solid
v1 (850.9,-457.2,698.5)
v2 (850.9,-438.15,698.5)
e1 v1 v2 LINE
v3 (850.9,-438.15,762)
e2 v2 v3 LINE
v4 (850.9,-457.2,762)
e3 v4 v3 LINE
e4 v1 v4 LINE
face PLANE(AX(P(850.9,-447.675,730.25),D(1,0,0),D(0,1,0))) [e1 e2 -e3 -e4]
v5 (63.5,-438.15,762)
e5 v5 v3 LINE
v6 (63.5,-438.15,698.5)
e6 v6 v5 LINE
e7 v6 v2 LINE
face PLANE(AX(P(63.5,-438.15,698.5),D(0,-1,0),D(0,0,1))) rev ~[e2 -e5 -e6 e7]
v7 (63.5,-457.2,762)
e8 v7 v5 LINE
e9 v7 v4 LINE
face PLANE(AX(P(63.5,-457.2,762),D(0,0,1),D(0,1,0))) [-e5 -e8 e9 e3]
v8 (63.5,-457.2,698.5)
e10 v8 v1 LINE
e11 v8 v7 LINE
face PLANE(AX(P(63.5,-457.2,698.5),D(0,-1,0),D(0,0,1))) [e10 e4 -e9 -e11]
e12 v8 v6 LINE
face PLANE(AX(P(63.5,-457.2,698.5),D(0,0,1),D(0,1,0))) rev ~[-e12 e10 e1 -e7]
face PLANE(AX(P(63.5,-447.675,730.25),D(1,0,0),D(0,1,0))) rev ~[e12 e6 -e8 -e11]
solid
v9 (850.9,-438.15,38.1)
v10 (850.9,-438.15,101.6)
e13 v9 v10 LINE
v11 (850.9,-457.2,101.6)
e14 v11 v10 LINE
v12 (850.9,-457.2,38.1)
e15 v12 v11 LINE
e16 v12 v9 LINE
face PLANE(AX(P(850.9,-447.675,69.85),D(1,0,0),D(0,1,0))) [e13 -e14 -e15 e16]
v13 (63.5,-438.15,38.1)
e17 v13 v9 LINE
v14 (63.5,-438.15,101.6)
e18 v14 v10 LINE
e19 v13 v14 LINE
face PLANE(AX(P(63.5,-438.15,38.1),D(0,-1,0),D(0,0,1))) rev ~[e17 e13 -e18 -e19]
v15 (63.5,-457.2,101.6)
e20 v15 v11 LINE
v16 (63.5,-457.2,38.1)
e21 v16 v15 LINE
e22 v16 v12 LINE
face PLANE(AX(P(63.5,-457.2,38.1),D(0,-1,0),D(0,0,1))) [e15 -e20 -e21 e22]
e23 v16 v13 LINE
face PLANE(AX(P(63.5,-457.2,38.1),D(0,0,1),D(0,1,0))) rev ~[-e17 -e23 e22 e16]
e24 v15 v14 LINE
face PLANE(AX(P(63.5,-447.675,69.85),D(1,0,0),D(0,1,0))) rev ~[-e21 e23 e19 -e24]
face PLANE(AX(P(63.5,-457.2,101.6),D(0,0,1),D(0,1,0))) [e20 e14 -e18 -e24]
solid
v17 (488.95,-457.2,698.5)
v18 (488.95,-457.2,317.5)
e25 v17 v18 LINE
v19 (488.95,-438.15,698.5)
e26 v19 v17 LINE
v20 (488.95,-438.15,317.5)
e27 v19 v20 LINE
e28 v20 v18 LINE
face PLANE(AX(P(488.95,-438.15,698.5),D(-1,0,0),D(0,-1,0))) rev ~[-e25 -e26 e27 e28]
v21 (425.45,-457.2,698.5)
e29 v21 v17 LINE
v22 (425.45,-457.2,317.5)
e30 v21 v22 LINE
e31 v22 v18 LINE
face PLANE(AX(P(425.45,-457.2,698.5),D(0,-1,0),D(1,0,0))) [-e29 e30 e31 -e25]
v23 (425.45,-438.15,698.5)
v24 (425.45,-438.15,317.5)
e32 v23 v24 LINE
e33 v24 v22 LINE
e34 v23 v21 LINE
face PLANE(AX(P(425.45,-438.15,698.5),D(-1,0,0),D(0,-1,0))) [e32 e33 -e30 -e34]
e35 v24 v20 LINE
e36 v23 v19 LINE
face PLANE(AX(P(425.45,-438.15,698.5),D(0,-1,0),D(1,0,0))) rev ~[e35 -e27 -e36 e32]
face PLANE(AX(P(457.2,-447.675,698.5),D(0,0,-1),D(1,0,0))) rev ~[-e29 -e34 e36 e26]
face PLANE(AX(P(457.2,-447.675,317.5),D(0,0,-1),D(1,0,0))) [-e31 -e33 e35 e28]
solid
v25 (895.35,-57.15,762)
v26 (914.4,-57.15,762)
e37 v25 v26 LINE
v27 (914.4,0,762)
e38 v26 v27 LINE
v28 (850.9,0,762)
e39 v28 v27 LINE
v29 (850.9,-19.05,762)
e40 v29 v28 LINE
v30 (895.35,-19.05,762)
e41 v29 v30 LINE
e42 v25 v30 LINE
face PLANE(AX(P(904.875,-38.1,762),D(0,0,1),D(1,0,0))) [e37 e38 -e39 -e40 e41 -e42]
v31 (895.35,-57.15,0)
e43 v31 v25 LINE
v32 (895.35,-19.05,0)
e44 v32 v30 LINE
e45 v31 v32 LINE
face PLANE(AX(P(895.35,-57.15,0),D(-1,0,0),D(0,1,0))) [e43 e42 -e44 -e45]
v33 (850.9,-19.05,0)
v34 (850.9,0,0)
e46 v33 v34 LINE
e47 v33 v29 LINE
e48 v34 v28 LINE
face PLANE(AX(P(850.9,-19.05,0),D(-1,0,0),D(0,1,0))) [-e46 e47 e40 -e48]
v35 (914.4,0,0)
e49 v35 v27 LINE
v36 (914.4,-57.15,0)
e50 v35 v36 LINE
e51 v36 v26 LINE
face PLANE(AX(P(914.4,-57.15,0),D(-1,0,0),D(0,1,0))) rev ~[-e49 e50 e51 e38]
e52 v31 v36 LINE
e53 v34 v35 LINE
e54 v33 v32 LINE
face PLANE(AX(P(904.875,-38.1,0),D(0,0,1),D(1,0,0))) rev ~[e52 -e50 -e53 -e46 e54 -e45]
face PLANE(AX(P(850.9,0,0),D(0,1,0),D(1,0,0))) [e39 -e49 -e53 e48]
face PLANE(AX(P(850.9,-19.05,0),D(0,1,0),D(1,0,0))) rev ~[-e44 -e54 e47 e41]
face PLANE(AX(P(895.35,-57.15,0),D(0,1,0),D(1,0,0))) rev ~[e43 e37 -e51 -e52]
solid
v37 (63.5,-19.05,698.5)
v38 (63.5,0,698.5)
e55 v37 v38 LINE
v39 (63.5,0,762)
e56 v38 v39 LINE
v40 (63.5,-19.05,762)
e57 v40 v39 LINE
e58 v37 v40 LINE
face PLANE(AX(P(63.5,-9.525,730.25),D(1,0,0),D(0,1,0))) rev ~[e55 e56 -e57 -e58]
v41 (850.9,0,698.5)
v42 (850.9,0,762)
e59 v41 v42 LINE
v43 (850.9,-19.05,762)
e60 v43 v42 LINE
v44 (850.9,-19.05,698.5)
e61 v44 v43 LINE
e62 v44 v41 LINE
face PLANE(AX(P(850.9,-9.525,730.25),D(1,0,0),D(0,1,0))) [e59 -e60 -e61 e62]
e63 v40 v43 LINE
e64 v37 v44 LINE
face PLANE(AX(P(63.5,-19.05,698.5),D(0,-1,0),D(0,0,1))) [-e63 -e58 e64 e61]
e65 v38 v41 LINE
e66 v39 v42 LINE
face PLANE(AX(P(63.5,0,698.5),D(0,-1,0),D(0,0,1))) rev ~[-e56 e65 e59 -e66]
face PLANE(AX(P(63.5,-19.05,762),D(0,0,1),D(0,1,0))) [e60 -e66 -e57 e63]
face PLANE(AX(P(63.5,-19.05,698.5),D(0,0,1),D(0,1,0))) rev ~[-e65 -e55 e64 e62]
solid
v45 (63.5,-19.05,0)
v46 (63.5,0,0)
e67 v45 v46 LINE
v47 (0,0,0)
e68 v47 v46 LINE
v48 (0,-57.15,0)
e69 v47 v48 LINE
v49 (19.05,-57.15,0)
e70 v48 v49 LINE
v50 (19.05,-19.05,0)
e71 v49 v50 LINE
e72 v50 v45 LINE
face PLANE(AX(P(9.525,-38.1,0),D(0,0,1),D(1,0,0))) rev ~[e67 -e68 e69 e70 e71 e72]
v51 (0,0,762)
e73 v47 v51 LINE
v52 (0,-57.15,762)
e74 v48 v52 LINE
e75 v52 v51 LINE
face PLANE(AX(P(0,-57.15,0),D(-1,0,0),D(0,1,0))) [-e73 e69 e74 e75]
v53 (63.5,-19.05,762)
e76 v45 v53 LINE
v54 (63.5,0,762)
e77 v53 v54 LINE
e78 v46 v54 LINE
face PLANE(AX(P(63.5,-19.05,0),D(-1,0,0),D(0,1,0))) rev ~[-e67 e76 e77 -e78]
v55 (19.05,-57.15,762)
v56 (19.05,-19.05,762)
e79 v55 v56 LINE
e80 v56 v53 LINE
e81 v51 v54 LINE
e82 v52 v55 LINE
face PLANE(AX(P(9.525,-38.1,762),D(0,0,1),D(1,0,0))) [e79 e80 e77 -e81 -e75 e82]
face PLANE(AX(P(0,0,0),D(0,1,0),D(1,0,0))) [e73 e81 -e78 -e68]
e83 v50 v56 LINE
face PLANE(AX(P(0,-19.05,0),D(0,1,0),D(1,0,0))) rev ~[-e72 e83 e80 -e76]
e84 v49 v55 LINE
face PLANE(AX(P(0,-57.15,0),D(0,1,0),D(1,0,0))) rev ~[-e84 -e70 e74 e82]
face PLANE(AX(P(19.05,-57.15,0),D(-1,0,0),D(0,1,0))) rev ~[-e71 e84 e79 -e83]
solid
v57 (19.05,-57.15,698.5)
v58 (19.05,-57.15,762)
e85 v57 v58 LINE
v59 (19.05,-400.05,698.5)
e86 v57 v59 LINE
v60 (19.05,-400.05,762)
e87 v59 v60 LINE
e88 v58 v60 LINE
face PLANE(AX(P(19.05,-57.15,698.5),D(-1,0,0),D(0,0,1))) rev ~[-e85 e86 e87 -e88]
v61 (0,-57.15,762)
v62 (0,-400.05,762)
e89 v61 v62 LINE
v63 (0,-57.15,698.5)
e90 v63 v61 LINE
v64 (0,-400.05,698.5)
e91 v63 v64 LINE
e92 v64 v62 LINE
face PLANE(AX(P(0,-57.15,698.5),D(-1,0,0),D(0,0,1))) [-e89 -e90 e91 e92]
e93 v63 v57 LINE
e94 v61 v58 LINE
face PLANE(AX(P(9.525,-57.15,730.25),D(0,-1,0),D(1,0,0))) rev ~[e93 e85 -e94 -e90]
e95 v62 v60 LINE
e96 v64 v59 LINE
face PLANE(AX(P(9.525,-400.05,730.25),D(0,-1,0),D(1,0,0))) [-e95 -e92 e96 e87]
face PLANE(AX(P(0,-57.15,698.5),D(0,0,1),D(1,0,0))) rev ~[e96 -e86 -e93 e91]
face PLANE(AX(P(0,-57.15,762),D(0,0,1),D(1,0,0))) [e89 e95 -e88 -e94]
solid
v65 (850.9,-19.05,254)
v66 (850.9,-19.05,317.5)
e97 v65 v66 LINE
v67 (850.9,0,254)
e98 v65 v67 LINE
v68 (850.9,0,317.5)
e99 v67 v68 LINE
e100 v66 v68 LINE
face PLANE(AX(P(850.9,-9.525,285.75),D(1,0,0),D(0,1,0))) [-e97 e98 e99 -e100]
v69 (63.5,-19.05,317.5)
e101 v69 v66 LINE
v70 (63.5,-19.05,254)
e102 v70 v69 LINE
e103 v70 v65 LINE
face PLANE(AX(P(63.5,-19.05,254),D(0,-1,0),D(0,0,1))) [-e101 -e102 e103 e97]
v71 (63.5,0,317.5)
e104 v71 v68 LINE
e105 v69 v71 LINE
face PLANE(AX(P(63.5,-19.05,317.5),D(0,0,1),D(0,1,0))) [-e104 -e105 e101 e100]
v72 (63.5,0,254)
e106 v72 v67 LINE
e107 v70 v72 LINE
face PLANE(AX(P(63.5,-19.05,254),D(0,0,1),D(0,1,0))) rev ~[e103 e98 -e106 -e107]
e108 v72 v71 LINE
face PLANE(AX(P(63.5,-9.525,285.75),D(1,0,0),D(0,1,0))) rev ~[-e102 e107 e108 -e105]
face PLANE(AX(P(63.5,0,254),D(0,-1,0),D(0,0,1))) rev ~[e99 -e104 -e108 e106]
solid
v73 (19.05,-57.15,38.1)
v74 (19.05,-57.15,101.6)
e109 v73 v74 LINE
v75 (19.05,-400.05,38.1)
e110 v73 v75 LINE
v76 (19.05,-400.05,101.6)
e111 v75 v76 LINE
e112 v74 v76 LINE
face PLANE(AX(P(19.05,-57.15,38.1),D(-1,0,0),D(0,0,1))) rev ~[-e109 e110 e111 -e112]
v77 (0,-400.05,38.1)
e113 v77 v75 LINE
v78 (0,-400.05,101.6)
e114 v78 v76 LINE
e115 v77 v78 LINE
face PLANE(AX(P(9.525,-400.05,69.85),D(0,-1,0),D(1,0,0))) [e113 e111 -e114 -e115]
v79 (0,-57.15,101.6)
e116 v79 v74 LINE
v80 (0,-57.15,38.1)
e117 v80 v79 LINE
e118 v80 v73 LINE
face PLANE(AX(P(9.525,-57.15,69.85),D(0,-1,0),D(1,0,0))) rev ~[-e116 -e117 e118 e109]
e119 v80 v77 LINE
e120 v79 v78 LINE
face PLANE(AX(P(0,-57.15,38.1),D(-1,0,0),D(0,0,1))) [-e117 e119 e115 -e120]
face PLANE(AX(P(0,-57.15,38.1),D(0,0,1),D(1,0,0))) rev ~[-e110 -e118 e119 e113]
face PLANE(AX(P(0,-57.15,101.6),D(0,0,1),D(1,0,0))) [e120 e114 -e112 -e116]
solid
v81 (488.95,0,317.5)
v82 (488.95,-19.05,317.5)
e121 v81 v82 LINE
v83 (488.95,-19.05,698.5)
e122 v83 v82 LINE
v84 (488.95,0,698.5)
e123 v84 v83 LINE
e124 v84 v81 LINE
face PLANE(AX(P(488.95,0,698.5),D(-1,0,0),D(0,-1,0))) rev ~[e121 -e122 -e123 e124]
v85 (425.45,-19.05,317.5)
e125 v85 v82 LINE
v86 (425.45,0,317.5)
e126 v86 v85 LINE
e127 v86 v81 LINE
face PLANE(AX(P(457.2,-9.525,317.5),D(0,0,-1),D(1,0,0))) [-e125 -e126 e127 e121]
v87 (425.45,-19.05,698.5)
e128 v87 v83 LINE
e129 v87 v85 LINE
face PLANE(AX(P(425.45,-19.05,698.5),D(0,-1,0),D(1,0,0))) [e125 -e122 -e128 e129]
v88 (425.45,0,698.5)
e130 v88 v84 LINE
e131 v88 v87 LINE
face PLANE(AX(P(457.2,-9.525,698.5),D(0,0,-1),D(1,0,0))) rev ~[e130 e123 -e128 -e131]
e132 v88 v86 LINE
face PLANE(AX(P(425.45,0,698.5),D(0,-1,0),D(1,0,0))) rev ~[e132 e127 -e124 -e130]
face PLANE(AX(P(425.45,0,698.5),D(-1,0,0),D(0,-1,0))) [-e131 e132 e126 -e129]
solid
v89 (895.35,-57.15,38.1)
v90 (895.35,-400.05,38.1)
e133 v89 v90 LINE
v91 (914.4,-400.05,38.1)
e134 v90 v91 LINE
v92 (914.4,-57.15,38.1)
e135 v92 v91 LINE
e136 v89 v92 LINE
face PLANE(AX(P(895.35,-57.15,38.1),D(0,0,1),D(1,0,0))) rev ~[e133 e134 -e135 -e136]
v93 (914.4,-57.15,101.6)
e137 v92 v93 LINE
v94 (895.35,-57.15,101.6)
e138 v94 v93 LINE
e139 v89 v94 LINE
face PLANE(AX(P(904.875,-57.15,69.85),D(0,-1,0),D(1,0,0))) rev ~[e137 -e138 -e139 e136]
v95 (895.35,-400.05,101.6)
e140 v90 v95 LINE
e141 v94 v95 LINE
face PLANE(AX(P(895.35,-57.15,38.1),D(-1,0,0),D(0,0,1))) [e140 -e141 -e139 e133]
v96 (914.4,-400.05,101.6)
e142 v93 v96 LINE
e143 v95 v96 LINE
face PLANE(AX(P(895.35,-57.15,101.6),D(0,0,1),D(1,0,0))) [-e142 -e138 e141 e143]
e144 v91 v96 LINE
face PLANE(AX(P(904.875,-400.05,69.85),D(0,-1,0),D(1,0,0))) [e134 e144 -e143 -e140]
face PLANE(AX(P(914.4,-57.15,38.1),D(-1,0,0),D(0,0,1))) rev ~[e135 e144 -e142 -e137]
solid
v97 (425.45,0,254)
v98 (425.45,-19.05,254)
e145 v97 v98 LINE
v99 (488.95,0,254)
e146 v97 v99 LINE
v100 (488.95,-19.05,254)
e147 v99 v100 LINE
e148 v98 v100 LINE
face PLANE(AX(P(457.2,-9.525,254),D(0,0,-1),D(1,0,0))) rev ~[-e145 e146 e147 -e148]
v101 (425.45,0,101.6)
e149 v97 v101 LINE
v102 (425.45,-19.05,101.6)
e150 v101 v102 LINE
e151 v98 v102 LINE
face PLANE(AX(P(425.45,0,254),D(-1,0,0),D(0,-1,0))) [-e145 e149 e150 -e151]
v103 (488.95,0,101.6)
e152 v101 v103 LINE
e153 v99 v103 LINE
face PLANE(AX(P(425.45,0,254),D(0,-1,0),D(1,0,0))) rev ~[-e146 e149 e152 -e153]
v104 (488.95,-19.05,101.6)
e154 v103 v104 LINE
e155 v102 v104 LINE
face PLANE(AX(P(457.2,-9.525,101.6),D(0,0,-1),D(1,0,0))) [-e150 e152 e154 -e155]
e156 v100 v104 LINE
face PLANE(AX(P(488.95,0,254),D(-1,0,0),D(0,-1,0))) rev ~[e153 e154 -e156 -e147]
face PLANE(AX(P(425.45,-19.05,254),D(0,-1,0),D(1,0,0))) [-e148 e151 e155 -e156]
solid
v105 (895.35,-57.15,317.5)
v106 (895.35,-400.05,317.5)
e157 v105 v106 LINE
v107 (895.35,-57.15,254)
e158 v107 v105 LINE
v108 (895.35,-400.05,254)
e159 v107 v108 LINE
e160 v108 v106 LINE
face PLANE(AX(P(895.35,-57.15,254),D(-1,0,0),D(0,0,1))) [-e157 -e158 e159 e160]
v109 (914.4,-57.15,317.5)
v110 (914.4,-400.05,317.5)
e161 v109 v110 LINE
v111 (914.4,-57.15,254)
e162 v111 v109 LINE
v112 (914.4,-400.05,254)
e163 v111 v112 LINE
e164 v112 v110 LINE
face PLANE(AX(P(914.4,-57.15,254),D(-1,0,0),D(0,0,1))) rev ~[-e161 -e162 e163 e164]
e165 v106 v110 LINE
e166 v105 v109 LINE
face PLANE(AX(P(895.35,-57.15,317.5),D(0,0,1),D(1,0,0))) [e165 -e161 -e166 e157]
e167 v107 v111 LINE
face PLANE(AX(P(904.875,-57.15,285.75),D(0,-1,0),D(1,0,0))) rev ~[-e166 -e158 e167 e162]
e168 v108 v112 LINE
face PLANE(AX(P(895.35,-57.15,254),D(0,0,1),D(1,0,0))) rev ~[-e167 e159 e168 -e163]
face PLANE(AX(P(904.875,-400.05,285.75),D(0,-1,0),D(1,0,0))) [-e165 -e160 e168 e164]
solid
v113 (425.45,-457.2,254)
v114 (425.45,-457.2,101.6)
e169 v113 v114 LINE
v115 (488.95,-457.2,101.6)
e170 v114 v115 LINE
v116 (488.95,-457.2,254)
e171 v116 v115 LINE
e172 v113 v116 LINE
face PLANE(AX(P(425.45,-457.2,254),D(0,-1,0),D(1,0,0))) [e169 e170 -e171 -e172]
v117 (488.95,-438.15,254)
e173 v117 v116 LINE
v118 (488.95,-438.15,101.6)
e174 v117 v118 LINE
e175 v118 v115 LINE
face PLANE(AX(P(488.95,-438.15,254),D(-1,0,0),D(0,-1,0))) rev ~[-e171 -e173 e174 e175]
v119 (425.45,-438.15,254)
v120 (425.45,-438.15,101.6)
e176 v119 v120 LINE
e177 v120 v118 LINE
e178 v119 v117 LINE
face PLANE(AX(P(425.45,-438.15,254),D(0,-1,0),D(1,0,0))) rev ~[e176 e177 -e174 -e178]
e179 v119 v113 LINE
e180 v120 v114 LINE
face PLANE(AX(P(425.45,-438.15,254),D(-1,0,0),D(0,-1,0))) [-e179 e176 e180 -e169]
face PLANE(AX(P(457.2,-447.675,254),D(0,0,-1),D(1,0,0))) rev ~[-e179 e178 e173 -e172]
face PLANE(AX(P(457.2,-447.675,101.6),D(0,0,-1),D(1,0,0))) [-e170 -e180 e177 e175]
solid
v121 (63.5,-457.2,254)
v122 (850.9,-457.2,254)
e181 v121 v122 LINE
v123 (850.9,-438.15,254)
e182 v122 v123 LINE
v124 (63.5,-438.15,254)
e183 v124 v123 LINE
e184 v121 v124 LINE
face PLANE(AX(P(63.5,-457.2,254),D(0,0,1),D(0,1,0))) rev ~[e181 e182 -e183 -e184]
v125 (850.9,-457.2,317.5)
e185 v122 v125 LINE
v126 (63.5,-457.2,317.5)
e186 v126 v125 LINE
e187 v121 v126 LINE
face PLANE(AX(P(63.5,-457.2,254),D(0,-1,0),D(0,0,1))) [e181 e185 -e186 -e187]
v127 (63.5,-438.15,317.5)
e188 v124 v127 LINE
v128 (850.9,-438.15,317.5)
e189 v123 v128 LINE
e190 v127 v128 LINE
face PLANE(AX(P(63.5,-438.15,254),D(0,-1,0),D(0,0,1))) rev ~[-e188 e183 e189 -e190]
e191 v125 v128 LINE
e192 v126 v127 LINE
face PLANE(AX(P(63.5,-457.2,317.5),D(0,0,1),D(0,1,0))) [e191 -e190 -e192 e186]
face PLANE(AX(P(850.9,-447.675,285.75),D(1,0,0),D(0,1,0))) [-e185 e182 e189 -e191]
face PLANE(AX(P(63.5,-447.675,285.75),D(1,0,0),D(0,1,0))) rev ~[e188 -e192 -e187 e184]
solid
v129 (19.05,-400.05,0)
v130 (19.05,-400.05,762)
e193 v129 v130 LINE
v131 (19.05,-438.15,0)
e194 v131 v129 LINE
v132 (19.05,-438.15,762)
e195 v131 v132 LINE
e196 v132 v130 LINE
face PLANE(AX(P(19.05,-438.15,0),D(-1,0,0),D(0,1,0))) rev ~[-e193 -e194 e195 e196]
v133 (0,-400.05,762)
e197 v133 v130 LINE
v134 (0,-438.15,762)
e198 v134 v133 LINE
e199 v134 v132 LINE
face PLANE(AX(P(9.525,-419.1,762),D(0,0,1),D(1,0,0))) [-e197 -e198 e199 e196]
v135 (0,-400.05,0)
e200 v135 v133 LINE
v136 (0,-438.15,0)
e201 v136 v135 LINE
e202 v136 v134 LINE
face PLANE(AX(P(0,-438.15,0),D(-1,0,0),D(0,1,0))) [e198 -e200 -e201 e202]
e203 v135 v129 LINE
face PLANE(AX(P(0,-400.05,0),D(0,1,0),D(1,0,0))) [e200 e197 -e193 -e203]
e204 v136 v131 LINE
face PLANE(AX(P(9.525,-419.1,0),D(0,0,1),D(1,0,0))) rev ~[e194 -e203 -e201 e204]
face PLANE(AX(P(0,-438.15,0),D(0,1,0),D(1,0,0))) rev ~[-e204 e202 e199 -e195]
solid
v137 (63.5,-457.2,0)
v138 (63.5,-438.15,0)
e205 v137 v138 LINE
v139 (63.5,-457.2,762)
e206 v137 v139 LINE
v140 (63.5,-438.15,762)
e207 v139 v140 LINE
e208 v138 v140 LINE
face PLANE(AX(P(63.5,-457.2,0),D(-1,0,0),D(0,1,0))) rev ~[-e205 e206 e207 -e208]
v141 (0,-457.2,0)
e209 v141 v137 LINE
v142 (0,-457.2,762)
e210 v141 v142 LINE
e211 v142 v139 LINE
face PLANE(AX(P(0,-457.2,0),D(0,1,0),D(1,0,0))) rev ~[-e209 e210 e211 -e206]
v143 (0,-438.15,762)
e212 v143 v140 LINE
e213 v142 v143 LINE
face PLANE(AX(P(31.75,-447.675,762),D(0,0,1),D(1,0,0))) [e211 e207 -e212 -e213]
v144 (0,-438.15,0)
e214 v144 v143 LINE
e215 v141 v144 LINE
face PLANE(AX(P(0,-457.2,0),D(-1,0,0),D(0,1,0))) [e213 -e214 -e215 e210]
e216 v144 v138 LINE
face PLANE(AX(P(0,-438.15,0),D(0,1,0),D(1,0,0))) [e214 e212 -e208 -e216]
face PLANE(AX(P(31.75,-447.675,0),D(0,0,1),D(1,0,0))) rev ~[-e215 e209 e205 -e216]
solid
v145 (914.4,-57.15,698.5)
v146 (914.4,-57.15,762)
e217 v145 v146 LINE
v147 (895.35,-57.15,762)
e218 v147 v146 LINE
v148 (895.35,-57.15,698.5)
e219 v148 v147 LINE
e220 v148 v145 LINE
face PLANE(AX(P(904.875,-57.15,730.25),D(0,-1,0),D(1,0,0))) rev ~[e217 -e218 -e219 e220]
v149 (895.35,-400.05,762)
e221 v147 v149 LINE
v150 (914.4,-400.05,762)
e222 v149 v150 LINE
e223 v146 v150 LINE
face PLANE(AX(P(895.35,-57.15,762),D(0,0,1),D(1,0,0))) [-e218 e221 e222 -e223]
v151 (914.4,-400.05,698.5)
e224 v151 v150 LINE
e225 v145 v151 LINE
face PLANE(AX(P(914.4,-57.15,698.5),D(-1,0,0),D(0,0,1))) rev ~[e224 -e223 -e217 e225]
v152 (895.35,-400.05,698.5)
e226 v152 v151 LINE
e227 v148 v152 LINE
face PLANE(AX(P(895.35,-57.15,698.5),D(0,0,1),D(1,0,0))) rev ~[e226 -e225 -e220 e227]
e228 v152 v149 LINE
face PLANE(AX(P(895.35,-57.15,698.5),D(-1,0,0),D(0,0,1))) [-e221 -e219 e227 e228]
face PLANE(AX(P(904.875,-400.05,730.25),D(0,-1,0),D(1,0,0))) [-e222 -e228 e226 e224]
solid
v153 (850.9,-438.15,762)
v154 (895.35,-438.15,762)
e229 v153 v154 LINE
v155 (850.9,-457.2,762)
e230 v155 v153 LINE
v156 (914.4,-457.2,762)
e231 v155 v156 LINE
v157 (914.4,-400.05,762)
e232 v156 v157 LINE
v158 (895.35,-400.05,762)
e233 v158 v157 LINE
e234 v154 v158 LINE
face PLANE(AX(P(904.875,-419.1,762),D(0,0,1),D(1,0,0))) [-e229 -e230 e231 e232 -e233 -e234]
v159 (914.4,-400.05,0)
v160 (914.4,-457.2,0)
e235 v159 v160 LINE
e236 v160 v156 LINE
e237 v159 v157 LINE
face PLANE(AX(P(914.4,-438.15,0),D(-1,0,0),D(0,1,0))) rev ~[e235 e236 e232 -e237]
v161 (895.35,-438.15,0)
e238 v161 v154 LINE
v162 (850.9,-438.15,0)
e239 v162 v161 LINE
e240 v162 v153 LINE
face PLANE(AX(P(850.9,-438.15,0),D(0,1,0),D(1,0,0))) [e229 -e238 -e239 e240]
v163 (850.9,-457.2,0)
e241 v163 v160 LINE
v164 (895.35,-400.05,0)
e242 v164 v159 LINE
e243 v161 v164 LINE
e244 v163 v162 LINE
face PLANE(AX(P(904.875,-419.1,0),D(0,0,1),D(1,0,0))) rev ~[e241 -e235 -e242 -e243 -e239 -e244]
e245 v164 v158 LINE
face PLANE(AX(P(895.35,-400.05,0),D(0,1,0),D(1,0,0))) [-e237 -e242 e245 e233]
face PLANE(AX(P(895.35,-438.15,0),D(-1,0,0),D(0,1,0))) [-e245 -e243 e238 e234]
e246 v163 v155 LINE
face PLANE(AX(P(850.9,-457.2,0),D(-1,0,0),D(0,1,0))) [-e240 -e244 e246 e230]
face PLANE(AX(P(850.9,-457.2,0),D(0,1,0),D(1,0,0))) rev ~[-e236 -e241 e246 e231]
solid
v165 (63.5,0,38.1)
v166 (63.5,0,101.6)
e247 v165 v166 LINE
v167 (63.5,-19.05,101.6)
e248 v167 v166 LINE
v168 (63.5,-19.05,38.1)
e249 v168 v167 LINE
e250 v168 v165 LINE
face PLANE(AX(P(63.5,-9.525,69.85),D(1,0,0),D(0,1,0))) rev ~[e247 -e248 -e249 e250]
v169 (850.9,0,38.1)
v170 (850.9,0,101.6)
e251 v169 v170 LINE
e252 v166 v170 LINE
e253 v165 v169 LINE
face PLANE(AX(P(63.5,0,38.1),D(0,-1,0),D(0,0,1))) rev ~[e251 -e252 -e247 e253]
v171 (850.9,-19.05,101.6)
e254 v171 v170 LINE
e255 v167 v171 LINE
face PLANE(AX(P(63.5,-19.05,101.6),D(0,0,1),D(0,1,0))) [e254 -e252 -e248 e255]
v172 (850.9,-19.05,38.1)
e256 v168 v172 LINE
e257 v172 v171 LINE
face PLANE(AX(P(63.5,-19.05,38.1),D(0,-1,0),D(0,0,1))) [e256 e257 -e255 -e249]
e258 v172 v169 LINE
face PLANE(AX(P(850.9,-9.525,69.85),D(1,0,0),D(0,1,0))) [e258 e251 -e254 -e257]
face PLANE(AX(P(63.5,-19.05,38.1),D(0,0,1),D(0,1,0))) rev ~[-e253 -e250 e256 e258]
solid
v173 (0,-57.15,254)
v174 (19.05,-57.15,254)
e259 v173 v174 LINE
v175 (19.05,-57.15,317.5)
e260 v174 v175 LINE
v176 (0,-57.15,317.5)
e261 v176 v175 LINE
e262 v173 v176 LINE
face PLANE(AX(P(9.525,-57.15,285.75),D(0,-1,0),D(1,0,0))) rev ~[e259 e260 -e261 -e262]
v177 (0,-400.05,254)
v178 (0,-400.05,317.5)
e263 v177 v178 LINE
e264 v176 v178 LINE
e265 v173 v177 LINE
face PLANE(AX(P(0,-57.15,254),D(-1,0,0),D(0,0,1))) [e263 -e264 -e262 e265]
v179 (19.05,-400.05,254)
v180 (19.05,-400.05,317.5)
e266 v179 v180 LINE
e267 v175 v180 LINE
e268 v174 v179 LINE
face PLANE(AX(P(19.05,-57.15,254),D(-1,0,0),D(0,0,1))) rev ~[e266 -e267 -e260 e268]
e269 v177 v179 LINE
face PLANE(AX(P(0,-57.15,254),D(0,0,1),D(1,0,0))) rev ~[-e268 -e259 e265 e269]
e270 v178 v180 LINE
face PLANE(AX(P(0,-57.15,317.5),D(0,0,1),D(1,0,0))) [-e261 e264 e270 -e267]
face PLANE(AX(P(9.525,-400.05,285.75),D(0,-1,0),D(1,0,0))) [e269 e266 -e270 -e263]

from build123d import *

# Parameters (mm, degrees)
F0_W      = 63.5
F0_H      = 19.05
F1_DEPTH  = 762
F2_W      = 19.05
F2_H      = 38.1
F3_DEPTH  = 762
F4_W      = 63.5
F4_H      = 19.05
F10_DEPTH = 762
F5_W      = 19.05
F5_H      = 38.1
F11_DEPTH = 762
F6_W      = 63.5
F6_H      = 19.05
F12_DEPTH = 762
F7_W      = 19.05
F7_H      = 38.1
F13_DEPTH = 762
F8_W      = 63.5
F8_H      = 19.05
F14_DEPTH = 762
F9_W      = 19.05
F9_H      = 38.1
F15_DEPTH = 762
F16_W     = 19.05
F16_H     = 63.5
F17_DEPTH = 787.4
F18_W     = 19.05
F18_H     = 63.5
F19_DEPTH = 787.4
F20_W     = 19.05
F20_H     = 63.5
F21_DEPTH = 342.9
F22_W     = 19.05
F22_H     = 63.5
F23_DEPTH = 342.9
F24_W     = 63.5
F24_H     = 19.05
F25_DEPTH = 381
F26_W     = 63.5
F26_H     = 19.05
F27_DEPTH = 381
F28_W     = 63.5
F28_H     = 19.05
F29_DEPTH = 152.4
F30_W     = 63.5
F30_H     = 19.05
F31_DEPTH = 152.4


with BuildPart() as f1:
    # F0 (on Top) → F1 (new body)
    with BuildSketch(Plane.XY):
        with Locations((31.75, -9.525)):
            Rectangle(F0_W, F0_H)
    extrude(amount=F1_DEPTH)

    # F2 (on Top) → F3 (join)
    with BuildSketch(Plane.XY):
        with Locations((9.525, -38.1)):
            Rectangle(F2_W, F2_H)
    extrude(amount=F3_DEPTH)


with BuildPart() as f10:
    # F4 (on Top) → F10 (new body)
    with BuildSketch(Plane.XY):
        with Locations((31.75, -447.675)):
            Rectangle(F4_W, F4_H)
    extrude(amount=F10_DEPTH)


with BuildPart() as f11:
    # F5 (on Top) → F11 (new body)
    with BuildSketch(Plane.XY):
        with Locations((9.525, -419.1)):
            Rectangle(F5_W, F5_H)
    extrude(amount=F11_DEPTH)


with BuildPart() as f12:
    # F6 (on Top) → F12 (new body)
    with BuildSketch(Plane.XY):
        with Locations((882.65, -9.525)):
            Rectangle(F6_W, F6_H)
    extrude(amount=F12_DEPTH)

    # F7 (on Top) → F13 (join)
    with BuildSketch(Plane.XY):
        with Locations((904.875, -38.1)):
            Rectangle(F7_W, F7_H)
    extrude(amount=F13_DEPTH)


with BuildPart() as f14:
    # F8 (on Top) → F14 (new body)
    with BuildSketch(Plane.XY):
        with Locations((882.65, -447.675)):
            Rectangle(F8_W, F8_H)
    extrude(amount=F14_DEPTH)

    # F9 (on Top) → F15 (join)
    with BuildSketch(Plane.XY):
        with Locations((904.875, -419.1)):
            Rectangle(F9_W, F9_H)
    extrude(amount=F15_DEPTH)


with BuildPart() as f17:
    # F16 (on face) → F17 (new body)
    with BuildSketch(Plane.YZ.offset(63.5)):
        with Locations((-447.675, 730.25)):
            Rectangle(F16_W, F16_H)
        with Locations((-447.675, 285.75)):
            Rectangle(F16_W, F16_H)
        with Locations((-447.675, 69.85)):
            Rectangle(F16_W, F16_H)
    extrude(amount=F17_DEPTH)


with BuildPart() as f19:
    # F18 (on face) → F19 (new body)
    with BuildSketch(Plane.YZ.offset(63.5)):
        with Locations((-9.525, 730.25)):
            Rectangle(F18_W, F18_H)
        with Locations((-9.525, 285.75)):
            Rectangle(F18_W, F18_H)
        with Locations((-9.525, 69.85)):
            Rectangle(F18_W, F18_H)
    extrude(amount=F19_DEPTH)


with BuildPart() as f21:
    # F20 (on face) → F21 (new body)
    with BuildSketch(Plane.XZ.offset(57.15)):
        with Locations((904.875, 730.25)):
            Rectangle(F20_W, F20_H)
        with Locations((904.875, 285.75)):
            Rectangle(F20_W, F20_H)
        with Locations((904.875, 69.85)):
            Rectangle(F20_W, F20_H)
    extrude(amount=F21_DEPTH)


with BuildPart() as f23:
    # F22 (on face) → F23 (new body)
    with BuildSketch(Plane.XZ.offset(57.15)):
        with Locations((9.525, 730.25)):
            Rectangle(F22_W, F22_H)
        with Locations((9.525, 285.75)):
            Rectangle(F22_W, F22_H)
        with Locations((9.525, 69.85)):
            Rectangle(F22_W, F22_H)
    extrude(amount=F23_DEPTH)


with BuildPart() as f25:
    # F24 (on face) → F25 (new body)
    with BuildSketch(Plane(origin=(0, 0, 698.5), x_dir=(1, 0, 0), z_dir=(0, 0, -1))):
        with Locations((457.2, 447.675)):
            Rectangle(F24_W, F24_H)
    extrude(amount=F25_DEPTH)


with BuildPart() as f27:
    # F26 (on face) → F27 (new body)
    with BuildSketch(Plane(origin=(0, 0, 698.5), x_dir=(1, 0, 0), z_dir=(0, 0, -1))):
        with Locations((457.2, 9.525)):
            Rectangle(F26_W, F26_H)
    extrude(amount=F27_DEPTH)


with BuildPart() as f29:
    # F28 (on face) → F29 (new body)
    with BuildSketch(Plane(origin=(0, 0, 254), x_dir=(1, 0, 0), z_dir=(0, 0, -1))):
        with Locations((457.2, 447.675)):
            Rectangle(F28_W, F28_H)
    extrude(amount=F29_DEPTH)


with BuildPart() as f31:
    # F30 (on face) → F31 (new body)
    with BuildSketch(Plane(origin=(0, 0, 254), x_dir=(1, 0, 0), z_dir=(0, 0, -1))):
        with Locations((457.2, 9.525)):
            Rectangle(F30_W, F30_H)
    extrude(amount=F31_DEPTH)


solid = Compound([f1.part, f10.part, f11.part, f12.part, f14.part, f17.part, f19.part, f21.part, f23.part, f25.part, f27.part, f29.part, f31.part])
